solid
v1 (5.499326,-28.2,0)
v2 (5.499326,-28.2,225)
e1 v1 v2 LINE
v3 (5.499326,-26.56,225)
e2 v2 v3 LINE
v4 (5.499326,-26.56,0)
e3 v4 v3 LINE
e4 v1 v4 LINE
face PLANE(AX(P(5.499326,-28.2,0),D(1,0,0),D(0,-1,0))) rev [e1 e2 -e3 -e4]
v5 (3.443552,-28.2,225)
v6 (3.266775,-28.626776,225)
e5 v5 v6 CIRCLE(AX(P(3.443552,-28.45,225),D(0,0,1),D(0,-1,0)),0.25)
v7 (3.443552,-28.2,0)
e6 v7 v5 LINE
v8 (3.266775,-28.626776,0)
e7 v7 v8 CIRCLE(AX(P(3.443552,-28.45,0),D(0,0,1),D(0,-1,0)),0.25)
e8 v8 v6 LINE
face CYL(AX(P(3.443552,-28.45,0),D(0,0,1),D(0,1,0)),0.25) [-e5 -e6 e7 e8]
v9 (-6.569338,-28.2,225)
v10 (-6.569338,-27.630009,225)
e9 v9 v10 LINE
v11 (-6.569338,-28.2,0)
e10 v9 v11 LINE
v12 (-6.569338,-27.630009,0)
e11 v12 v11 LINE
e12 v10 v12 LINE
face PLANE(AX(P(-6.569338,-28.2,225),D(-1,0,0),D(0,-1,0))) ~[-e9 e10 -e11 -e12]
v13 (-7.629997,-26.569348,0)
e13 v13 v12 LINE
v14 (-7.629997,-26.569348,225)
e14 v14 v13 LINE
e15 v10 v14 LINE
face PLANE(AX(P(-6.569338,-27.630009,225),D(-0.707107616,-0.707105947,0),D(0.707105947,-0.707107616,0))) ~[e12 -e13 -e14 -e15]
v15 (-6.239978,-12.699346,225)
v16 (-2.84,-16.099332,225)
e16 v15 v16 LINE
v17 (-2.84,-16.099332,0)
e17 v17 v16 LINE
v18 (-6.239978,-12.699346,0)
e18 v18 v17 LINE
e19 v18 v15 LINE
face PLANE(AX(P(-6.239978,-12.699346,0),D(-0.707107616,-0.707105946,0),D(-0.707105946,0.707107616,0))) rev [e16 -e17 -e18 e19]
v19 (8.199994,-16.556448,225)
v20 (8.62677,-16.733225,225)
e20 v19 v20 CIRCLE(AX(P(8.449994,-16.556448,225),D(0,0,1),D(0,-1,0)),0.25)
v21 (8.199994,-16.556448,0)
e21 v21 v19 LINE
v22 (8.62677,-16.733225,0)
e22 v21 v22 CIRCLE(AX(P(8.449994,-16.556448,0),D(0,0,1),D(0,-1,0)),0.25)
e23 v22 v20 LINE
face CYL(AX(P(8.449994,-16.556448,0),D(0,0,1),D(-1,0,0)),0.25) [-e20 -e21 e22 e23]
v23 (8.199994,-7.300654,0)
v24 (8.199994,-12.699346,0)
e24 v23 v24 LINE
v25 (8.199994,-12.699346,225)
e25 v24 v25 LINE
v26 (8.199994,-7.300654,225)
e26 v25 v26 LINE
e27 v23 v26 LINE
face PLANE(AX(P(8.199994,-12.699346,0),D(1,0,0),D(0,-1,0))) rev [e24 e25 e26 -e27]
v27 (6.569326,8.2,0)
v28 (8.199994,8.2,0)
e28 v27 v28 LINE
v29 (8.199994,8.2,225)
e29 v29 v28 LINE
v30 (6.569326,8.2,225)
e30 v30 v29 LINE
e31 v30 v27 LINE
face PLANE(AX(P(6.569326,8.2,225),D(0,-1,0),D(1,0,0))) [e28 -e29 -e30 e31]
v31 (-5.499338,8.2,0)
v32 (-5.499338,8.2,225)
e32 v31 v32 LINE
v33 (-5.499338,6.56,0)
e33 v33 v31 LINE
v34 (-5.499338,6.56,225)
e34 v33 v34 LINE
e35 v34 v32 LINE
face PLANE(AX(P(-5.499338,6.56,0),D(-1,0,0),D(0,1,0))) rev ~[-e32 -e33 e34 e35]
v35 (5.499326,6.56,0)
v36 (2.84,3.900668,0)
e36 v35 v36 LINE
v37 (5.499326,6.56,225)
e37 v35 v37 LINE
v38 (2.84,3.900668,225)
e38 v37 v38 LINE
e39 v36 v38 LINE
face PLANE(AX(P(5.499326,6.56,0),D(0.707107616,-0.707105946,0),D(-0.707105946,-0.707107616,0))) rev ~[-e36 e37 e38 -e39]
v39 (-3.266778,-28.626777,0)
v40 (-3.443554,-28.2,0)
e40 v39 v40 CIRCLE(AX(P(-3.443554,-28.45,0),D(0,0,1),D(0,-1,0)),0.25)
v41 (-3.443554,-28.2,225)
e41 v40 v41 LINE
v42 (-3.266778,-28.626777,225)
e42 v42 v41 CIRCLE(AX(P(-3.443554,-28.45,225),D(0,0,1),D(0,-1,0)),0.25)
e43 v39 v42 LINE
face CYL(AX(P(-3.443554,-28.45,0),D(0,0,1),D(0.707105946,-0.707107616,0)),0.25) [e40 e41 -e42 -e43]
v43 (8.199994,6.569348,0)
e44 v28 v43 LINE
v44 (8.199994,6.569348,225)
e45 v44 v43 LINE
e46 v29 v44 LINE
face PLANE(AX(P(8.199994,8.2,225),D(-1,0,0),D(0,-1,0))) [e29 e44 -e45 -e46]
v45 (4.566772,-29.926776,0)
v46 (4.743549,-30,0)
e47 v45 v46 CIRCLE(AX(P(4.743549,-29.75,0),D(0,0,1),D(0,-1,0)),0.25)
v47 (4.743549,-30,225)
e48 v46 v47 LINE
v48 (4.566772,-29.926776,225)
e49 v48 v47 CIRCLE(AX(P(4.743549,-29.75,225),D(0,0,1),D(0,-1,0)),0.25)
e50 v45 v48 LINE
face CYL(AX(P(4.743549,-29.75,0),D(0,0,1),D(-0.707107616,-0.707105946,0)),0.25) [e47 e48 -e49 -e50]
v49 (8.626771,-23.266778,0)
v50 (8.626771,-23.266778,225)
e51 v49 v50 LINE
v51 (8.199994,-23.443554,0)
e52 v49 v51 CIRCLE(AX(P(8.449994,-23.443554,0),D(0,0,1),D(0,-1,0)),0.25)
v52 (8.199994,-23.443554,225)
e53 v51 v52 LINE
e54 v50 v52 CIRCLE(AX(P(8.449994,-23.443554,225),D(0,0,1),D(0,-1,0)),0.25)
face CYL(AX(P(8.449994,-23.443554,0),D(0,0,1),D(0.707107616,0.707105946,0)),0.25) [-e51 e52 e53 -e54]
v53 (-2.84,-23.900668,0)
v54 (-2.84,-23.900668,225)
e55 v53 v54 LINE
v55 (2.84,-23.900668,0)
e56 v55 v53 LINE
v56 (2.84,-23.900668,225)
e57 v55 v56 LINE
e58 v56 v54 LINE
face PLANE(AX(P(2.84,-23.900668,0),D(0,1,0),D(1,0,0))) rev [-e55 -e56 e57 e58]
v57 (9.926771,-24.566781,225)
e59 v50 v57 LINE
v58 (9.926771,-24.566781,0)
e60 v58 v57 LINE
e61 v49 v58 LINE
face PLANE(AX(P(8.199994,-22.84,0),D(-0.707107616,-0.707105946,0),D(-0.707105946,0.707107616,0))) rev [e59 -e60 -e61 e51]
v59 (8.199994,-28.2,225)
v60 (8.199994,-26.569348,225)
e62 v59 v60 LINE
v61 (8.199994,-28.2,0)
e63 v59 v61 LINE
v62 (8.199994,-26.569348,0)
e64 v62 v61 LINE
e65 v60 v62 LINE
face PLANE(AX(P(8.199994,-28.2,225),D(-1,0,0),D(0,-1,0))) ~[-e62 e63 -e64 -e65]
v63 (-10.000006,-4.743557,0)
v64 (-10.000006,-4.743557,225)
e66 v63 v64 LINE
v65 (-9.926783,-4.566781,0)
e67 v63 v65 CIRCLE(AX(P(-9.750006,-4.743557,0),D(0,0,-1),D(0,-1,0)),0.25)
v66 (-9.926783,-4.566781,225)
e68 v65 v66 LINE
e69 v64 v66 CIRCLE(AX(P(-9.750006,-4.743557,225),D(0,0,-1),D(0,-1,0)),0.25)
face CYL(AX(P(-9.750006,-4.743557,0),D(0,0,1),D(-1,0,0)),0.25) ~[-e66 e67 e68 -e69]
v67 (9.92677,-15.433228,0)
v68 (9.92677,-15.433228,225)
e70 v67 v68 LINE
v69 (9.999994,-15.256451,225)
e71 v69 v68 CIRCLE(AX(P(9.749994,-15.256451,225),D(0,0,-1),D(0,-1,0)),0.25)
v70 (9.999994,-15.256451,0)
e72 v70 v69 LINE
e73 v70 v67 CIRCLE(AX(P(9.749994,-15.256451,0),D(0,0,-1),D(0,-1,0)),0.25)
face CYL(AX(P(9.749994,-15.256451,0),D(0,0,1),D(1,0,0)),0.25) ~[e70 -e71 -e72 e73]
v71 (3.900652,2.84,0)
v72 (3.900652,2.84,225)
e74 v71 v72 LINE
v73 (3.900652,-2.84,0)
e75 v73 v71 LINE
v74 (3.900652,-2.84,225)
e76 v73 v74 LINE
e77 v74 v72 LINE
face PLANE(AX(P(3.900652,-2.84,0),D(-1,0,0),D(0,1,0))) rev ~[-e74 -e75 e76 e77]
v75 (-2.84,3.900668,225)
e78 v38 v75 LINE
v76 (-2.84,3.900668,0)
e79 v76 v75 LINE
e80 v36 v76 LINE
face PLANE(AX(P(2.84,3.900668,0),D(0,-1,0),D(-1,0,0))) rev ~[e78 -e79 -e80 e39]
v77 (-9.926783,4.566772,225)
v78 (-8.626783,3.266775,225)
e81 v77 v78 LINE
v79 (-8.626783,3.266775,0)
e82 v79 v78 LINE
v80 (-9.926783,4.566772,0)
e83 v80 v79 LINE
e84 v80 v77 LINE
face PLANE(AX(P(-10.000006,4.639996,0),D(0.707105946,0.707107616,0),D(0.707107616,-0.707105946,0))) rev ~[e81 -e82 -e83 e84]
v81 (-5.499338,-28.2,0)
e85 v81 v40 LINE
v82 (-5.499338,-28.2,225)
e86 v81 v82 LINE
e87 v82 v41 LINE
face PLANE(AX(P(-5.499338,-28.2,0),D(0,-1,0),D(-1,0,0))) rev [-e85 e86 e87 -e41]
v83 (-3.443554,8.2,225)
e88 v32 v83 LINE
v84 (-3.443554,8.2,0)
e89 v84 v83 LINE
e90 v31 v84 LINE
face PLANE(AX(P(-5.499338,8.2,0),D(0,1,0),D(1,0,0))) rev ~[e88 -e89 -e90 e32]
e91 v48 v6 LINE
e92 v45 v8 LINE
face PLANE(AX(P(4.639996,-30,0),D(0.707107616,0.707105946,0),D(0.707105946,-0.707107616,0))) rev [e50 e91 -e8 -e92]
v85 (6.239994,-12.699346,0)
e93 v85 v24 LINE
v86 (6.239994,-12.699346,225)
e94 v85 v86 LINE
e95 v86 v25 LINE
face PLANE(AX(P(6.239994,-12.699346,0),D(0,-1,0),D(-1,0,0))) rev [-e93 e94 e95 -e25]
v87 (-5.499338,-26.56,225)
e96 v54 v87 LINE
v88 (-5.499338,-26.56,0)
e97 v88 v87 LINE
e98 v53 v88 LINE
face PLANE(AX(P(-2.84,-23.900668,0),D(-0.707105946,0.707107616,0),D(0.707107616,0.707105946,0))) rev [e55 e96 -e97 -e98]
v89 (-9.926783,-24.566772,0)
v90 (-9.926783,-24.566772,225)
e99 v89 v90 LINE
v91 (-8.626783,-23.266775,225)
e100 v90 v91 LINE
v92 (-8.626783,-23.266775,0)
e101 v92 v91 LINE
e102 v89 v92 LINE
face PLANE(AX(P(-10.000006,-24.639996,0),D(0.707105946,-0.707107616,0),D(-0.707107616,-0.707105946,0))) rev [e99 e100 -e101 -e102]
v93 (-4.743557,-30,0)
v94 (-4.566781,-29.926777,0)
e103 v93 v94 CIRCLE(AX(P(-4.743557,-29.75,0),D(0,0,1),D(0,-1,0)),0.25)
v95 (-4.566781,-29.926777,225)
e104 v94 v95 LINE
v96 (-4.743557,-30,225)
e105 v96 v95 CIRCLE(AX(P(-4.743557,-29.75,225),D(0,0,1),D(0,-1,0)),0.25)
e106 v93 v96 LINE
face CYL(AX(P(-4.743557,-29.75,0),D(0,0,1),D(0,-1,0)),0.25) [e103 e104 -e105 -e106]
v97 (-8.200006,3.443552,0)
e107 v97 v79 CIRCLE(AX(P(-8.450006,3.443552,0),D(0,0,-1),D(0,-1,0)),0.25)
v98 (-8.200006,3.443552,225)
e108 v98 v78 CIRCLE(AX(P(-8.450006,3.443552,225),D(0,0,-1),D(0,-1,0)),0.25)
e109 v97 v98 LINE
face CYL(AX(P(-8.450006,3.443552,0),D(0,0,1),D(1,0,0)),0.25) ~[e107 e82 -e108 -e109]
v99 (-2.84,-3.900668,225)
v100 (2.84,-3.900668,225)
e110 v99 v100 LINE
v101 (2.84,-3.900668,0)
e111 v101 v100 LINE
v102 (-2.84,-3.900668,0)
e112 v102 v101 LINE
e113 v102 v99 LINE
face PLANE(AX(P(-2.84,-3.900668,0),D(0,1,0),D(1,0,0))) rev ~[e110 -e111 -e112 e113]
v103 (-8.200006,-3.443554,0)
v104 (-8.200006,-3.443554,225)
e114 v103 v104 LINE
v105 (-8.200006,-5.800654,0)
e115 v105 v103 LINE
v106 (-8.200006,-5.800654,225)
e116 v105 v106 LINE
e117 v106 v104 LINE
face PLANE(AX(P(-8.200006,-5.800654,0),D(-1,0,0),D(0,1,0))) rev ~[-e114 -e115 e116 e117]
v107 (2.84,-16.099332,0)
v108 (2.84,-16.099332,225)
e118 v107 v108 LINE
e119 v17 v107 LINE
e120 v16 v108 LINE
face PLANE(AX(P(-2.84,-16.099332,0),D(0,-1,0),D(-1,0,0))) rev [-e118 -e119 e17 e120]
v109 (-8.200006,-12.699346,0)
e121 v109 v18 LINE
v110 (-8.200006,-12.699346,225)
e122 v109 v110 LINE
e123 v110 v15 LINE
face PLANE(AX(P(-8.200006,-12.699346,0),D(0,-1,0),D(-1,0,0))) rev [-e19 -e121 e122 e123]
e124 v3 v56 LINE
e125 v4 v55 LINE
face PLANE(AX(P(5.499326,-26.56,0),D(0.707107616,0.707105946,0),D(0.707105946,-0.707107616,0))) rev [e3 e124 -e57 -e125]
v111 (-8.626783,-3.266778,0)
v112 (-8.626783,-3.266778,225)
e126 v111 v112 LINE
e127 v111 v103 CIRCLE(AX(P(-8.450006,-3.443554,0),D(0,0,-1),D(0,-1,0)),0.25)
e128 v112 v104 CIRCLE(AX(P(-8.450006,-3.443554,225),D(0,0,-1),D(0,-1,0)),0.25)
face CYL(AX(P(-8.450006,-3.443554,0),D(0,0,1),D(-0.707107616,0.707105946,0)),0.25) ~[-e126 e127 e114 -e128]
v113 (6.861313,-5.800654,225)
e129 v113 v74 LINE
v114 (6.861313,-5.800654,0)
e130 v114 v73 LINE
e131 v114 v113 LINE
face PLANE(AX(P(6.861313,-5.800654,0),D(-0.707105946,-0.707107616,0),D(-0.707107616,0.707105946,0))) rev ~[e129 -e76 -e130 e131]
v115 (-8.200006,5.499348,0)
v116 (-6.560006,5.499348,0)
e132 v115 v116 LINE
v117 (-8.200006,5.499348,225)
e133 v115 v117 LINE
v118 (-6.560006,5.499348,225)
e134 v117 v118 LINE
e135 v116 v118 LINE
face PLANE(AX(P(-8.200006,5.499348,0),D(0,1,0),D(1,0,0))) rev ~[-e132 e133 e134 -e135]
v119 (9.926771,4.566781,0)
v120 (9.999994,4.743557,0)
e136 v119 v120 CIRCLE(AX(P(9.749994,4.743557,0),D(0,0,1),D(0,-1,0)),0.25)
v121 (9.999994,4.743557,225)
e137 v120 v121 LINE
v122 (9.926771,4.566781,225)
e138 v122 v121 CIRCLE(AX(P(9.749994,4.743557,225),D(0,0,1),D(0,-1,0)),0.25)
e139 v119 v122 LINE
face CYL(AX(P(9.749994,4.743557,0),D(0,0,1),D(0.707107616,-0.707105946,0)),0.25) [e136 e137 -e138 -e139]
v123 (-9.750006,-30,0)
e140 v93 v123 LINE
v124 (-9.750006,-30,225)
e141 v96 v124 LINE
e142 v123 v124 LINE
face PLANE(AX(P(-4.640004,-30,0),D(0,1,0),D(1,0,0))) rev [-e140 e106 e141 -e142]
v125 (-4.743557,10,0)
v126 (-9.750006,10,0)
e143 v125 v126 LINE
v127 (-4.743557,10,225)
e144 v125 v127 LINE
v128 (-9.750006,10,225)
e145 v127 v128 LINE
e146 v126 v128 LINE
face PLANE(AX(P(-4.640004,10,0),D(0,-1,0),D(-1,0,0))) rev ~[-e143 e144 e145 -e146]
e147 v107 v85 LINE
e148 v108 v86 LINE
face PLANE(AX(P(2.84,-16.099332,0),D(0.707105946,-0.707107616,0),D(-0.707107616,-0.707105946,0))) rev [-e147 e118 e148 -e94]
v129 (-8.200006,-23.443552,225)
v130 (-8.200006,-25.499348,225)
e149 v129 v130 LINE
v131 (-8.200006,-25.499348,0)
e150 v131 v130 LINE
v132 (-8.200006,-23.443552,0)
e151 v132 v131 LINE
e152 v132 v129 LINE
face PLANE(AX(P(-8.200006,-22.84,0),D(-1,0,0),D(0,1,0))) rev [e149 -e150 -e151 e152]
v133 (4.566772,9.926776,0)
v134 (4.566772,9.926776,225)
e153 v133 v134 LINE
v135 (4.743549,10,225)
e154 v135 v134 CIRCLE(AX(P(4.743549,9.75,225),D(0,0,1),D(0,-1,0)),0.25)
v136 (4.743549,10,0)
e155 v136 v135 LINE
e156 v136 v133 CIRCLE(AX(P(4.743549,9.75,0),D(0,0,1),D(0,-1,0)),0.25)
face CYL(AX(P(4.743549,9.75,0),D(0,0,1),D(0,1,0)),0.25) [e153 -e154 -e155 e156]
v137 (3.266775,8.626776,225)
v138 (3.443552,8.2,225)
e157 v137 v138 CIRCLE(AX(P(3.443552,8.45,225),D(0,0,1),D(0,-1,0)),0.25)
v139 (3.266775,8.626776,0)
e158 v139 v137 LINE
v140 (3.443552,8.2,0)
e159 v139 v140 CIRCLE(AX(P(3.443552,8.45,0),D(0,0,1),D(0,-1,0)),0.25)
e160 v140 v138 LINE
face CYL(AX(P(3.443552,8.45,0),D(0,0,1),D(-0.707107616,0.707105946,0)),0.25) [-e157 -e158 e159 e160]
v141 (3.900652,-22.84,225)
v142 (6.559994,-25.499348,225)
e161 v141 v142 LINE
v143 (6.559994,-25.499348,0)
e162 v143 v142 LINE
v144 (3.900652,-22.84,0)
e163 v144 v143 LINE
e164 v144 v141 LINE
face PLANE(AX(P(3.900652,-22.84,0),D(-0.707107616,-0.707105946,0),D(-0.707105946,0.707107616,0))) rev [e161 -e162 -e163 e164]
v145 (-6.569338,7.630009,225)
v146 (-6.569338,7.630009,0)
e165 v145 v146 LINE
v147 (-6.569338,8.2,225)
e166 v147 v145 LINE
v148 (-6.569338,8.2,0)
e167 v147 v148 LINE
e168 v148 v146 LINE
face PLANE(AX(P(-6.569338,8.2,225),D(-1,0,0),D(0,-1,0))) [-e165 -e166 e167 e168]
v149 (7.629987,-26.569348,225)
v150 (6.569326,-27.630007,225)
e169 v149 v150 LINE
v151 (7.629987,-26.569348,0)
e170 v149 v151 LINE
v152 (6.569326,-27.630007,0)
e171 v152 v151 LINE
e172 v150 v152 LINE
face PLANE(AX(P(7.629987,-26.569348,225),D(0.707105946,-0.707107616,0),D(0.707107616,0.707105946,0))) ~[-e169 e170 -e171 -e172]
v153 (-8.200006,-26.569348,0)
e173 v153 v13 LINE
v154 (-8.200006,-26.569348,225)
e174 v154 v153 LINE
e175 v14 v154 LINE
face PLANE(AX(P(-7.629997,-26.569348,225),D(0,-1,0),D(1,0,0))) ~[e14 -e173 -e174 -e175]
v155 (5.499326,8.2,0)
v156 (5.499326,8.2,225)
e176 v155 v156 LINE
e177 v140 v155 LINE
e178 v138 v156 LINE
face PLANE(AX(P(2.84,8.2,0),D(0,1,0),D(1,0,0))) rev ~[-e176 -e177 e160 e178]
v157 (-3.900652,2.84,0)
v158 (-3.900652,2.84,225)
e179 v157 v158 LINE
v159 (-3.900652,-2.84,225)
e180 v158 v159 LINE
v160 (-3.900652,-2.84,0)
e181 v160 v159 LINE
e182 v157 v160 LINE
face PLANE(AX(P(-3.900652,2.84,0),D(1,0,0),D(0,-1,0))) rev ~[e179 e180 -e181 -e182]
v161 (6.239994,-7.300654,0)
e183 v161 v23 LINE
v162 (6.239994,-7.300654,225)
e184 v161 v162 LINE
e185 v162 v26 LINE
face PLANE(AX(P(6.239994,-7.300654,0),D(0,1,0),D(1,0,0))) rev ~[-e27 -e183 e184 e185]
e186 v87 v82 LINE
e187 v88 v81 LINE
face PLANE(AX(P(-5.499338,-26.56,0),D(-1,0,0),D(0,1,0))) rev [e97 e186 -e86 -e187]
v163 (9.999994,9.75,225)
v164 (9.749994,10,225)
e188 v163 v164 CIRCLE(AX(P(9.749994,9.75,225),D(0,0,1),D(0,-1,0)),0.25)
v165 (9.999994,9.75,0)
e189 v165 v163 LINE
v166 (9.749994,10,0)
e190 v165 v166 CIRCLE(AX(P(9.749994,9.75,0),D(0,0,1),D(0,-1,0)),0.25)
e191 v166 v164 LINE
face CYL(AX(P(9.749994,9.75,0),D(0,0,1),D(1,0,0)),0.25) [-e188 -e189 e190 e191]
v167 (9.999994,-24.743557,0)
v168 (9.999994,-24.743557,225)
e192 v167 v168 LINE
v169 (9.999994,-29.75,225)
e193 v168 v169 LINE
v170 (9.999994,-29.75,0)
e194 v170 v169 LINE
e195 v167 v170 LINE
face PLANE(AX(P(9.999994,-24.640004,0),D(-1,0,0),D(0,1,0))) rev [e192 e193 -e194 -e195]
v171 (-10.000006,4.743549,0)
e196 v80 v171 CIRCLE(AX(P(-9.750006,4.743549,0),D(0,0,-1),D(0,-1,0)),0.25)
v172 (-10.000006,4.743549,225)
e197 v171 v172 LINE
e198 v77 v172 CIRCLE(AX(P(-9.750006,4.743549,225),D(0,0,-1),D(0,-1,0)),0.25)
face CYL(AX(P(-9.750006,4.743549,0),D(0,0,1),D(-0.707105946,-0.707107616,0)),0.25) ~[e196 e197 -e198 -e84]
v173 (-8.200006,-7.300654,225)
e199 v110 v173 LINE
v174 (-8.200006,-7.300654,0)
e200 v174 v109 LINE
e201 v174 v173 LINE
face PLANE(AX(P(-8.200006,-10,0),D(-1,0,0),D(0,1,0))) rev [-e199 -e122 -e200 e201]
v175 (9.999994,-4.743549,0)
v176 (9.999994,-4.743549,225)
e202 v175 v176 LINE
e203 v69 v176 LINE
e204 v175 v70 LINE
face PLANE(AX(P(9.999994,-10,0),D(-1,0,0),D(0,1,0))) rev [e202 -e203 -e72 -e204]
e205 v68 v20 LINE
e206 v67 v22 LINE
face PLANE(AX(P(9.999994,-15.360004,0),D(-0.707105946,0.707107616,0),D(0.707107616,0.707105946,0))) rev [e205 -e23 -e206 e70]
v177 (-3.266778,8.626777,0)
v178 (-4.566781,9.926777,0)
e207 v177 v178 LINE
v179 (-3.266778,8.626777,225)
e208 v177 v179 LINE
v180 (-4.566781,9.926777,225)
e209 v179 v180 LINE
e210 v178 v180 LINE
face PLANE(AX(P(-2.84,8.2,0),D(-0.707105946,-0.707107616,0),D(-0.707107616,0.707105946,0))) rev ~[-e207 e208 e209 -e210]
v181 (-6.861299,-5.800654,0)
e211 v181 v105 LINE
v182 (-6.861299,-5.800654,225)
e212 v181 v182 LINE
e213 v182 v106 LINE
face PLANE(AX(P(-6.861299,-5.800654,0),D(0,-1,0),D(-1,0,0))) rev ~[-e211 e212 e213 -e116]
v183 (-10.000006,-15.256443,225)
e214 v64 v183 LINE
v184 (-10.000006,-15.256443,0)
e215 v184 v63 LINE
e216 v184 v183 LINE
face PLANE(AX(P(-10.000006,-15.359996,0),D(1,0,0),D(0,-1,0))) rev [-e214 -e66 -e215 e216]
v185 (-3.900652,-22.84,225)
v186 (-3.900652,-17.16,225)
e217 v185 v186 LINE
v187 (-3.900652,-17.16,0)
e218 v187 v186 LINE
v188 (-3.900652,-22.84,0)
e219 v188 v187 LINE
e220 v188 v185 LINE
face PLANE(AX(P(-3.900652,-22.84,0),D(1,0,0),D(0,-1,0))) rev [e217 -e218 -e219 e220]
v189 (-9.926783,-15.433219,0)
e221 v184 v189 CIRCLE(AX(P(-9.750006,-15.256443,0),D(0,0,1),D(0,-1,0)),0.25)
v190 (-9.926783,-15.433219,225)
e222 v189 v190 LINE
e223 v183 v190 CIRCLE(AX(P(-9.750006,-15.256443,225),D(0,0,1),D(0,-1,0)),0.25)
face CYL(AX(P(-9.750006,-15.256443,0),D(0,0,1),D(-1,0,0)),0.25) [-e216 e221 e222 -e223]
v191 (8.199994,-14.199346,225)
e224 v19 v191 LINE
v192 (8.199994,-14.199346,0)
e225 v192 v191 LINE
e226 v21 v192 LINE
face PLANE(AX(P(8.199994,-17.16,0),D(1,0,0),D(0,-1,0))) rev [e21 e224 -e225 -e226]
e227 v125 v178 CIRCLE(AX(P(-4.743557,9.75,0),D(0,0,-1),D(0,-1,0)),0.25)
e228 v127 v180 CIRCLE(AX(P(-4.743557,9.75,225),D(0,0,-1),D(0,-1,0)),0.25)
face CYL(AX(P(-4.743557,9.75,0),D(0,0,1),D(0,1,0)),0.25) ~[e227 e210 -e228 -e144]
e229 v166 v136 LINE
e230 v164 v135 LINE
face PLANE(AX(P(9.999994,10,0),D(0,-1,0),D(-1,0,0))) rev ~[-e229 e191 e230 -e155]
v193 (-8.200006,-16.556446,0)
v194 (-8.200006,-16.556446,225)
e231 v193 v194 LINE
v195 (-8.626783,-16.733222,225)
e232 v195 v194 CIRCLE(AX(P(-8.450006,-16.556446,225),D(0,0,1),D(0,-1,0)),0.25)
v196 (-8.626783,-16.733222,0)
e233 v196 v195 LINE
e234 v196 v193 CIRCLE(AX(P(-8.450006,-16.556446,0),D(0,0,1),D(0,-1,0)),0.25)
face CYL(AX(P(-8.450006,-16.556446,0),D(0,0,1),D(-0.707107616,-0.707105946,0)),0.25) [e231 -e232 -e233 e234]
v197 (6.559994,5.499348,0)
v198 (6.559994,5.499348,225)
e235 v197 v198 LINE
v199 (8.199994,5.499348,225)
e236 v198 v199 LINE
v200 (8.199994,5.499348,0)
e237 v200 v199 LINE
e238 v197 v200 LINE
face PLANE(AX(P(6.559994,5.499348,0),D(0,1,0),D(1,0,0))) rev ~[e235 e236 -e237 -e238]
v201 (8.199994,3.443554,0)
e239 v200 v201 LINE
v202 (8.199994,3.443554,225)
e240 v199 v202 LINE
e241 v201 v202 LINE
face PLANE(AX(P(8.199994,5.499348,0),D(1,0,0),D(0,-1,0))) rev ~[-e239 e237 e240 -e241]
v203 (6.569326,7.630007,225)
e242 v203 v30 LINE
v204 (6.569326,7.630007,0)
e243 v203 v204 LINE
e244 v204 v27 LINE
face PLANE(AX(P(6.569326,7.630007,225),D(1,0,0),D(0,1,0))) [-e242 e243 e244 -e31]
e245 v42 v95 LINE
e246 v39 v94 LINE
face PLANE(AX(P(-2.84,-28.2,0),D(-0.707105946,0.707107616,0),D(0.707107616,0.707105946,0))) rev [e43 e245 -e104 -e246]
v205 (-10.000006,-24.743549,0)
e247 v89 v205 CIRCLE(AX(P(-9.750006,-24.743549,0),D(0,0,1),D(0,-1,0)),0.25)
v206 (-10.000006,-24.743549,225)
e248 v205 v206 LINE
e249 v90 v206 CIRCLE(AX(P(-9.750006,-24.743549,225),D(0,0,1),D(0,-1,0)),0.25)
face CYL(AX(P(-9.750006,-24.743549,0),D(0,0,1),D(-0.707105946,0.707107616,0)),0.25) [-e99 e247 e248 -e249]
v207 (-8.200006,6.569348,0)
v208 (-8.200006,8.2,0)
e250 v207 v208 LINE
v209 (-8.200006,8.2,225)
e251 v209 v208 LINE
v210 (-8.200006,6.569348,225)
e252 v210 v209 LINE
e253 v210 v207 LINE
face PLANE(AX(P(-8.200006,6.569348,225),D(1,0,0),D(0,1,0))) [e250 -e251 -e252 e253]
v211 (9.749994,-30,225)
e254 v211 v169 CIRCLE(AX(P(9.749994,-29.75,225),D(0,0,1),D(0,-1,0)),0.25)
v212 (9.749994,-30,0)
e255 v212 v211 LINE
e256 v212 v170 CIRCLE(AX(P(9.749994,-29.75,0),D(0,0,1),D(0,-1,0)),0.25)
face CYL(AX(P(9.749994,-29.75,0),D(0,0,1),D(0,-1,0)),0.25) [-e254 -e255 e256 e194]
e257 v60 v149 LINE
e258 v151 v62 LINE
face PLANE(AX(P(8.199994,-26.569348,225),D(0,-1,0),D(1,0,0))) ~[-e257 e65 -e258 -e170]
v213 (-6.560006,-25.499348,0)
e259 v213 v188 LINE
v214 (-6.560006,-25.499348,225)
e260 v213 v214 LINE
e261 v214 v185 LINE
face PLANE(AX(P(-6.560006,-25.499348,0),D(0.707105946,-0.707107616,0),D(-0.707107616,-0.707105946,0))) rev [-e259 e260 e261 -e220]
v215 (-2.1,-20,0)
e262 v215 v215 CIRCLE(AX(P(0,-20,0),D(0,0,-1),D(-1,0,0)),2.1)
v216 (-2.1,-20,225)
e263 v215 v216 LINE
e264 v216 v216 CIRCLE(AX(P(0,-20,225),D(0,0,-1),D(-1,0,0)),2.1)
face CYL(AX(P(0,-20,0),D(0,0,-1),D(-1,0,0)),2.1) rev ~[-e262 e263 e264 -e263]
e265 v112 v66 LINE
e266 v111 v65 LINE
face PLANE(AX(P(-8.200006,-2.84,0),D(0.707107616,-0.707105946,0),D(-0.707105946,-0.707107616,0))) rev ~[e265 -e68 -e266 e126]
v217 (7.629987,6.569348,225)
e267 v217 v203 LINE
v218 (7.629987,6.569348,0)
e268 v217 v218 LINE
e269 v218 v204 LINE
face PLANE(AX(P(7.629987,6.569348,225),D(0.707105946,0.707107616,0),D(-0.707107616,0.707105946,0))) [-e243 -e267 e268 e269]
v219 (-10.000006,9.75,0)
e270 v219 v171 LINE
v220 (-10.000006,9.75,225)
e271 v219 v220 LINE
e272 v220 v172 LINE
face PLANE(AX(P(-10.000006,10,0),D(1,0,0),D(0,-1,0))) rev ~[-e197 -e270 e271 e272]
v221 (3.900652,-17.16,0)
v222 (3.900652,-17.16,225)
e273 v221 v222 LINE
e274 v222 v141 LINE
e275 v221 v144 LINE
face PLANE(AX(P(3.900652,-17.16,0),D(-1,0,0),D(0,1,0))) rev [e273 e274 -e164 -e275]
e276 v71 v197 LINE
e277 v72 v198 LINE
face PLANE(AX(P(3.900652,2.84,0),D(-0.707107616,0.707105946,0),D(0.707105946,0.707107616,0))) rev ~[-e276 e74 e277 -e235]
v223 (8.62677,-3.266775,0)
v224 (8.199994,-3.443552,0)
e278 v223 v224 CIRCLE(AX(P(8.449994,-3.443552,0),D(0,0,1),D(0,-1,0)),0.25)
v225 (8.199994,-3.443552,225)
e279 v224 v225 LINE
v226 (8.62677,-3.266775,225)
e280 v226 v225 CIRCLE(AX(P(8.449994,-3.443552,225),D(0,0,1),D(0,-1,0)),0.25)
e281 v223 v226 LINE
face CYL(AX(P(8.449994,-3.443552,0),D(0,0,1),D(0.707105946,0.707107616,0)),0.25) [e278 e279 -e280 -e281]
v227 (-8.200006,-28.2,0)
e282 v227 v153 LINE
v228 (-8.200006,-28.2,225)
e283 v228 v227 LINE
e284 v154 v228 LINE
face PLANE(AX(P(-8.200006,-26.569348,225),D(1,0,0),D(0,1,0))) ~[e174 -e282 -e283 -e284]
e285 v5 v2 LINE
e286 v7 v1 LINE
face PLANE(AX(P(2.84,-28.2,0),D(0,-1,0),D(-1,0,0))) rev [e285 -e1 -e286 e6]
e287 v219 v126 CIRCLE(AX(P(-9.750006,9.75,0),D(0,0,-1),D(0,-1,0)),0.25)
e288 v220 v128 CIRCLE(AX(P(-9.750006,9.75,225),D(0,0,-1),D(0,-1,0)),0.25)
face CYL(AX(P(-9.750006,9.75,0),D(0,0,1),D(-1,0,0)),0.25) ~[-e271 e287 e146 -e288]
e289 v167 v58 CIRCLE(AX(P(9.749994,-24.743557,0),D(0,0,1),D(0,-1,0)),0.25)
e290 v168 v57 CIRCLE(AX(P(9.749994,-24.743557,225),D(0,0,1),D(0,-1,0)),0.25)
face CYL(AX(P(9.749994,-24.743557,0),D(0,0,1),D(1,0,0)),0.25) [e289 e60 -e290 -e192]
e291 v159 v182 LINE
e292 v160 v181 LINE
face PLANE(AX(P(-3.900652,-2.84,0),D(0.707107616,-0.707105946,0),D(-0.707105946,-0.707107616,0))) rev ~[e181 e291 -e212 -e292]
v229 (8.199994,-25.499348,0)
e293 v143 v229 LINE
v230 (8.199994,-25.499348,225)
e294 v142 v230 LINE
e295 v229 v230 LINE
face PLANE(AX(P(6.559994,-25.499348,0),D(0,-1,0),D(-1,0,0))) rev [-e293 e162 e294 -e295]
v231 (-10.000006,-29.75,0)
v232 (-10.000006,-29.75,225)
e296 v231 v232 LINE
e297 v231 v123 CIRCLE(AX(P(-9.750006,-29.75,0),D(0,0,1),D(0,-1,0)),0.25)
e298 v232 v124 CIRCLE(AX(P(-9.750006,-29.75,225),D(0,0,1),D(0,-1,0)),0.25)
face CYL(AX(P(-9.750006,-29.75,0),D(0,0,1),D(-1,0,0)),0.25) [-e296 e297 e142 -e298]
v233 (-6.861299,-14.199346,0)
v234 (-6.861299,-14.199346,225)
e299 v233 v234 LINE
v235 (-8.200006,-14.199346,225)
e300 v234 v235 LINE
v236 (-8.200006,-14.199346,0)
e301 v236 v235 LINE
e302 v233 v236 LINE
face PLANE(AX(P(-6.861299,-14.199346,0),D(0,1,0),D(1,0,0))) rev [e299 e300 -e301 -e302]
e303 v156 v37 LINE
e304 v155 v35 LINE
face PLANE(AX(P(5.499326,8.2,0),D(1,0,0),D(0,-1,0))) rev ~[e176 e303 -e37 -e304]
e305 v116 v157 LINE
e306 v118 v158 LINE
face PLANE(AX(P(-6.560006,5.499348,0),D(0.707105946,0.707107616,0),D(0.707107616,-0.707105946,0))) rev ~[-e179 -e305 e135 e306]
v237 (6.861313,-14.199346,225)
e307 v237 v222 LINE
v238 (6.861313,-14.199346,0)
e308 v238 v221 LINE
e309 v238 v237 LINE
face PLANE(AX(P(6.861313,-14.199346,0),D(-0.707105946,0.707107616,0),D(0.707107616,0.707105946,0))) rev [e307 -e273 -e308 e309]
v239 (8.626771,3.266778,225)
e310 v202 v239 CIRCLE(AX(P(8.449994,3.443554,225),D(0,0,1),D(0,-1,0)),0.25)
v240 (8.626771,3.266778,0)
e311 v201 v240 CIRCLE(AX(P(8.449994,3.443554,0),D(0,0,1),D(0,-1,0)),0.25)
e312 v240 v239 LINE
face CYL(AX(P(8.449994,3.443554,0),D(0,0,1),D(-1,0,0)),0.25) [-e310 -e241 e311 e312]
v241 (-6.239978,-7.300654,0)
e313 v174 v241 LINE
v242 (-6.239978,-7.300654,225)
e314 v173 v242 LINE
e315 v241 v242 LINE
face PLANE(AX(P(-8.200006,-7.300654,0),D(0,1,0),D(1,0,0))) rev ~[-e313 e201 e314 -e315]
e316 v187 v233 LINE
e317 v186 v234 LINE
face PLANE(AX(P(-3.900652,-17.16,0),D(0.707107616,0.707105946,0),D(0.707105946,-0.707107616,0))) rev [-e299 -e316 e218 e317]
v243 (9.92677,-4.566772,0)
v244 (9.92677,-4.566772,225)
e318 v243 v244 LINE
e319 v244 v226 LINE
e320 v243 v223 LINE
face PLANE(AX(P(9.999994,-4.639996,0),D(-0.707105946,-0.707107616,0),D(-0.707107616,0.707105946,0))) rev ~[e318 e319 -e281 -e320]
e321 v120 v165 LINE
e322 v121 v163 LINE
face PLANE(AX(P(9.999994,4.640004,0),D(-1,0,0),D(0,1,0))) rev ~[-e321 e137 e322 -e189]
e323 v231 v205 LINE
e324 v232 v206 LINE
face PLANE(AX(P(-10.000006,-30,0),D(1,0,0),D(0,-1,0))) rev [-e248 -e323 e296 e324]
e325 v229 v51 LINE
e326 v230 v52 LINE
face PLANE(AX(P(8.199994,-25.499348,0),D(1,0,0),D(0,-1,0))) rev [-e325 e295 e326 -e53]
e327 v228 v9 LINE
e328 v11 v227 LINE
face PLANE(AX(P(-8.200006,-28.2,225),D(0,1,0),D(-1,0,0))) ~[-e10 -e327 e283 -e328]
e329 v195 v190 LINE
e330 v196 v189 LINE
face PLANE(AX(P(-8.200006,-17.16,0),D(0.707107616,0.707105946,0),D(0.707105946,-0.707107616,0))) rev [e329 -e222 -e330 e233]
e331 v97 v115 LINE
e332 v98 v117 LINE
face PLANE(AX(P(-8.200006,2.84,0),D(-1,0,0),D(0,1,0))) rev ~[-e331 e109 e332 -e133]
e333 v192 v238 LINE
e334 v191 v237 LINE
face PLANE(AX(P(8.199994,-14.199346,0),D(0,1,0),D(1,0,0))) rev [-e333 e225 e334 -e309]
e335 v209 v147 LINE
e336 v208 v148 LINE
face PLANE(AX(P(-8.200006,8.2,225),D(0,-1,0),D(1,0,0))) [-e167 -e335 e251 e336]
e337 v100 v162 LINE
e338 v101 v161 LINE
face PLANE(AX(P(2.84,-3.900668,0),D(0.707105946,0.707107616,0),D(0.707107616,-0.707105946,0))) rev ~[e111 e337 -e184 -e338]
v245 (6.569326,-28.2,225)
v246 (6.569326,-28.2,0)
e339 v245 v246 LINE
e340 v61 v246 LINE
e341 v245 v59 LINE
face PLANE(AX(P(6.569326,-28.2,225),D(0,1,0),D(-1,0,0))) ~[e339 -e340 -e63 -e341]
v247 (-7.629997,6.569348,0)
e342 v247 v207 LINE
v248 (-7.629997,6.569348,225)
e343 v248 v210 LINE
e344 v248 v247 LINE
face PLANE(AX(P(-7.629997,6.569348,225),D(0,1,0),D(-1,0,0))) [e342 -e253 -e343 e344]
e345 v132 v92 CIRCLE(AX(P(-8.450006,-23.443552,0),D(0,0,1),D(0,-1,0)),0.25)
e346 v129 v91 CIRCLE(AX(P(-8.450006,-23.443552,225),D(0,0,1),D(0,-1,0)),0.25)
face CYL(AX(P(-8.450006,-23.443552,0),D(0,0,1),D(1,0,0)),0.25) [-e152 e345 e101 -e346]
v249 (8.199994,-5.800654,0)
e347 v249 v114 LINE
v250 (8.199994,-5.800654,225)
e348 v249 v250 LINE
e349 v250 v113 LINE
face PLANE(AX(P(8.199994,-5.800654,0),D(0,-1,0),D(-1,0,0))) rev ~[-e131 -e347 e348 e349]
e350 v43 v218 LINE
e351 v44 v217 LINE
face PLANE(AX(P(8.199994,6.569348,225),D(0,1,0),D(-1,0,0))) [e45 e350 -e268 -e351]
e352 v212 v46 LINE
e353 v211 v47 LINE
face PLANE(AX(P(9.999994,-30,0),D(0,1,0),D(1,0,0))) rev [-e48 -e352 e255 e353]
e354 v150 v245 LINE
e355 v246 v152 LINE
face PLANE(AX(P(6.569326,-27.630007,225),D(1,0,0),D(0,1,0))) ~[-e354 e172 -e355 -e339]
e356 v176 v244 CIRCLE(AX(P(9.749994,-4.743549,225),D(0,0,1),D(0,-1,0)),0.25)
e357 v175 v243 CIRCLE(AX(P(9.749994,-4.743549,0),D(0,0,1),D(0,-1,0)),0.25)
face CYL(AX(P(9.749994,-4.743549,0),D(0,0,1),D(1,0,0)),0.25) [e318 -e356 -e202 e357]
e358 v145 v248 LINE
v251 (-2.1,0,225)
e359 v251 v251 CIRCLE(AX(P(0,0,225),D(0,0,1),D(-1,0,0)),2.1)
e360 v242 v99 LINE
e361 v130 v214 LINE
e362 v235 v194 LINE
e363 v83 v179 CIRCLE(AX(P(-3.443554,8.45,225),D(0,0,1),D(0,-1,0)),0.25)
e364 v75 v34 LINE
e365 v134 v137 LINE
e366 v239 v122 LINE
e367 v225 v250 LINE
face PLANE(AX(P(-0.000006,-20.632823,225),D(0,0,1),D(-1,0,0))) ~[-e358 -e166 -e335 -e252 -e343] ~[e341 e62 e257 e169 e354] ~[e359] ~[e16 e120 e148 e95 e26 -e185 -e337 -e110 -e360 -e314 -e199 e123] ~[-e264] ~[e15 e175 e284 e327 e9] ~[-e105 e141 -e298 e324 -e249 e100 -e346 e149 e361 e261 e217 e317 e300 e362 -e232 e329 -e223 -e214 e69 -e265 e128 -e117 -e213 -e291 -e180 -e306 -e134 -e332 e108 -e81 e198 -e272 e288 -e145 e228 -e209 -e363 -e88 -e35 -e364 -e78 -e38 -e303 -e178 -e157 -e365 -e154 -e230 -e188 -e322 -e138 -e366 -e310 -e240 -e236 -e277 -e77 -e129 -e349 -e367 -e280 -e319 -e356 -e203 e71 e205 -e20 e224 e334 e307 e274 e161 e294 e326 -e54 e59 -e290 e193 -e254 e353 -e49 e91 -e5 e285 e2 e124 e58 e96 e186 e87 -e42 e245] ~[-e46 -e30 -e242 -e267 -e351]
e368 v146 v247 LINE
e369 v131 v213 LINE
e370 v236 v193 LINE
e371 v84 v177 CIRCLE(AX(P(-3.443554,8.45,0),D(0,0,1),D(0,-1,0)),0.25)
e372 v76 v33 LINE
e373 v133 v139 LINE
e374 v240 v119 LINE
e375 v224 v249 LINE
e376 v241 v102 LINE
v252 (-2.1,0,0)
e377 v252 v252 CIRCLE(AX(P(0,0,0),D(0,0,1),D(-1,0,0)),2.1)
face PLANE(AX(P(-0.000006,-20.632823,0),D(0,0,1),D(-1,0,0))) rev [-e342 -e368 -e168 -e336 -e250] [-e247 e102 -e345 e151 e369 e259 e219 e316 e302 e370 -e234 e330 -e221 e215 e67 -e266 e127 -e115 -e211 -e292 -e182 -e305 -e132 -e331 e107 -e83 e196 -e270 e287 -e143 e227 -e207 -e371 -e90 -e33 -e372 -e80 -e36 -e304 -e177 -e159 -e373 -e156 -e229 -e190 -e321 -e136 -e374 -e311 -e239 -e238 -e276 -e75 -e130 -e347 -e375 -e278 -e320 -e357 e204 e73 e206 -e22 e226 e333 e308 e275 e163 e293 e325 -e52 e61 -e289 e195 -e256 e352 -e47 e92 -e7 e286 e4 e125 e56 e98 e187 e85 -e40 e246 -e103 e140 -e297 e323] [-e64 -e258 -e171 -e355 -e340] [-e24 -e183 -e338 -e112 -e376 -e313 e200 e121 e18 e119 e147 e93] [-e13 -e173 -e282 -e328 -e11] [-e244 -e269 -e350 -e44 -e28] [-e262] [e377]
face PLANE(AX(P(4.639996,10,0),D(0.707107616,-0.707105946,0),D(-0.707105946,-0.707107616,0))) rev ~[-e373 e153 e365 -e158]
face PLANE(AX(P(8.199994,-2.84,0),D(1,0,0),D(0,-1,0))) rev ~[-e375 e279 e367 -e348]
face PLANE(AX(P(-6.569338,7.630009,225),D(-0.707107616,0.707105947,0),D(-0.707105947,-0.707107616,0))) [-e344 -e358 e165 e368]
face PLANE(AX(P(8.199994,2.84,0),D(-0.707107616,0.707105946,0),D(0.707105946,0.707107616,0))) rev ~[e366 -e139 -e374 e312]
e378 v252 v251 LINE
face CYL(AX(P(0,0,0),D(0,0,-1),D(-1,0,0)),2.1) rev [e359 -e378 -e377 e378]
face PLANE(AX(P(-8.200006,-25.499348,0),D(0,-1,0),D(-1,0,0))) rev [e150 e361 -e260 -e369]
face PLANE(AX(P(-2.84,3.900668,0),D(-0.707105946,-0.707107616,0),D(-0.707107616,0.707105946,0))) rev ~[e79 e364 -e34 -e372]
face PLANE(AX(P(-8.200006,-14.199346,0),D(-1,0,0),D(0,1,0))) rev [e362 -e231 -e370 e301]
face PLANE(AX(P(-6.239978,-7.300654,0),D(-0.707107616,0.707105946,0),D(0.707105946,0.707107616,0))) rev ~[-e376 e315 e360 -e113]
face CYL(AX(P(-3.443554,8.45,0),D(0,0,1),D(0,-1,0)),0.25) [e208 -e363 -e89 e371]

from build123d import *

# Parameters (mm, degrees)
SKETCH1_R            = 2.1
BOSS_EXTRUDE2_DEPTH  = 225
CUT_EXTRUDE1_DEPTH   = 226.44400663
FILLET1_R            = 0.25
FILLET1_OF_MIRROR1_R = 0.25


with BuildPart() as part:
    # Sketch1 → Boss-Extrude2 (new body)
    with BuildSketch(Plane.XY):
        Polygon((8.199993721, -10), (9.999993721, -10), (9.999993721, -4.63999575), (8.199993721, -2.84), (8.199993721, -5.800653822), (6.861313026, -5.800653822), (3.900652213, -2.84), (3.900652213, 2.84), (6.559993721, 5.499347787), (8.199993721, 5.499347787), (8.199993721, 2.84), (9.999993721, 4.64000425), (9.999993721, 10), (4.63999575, 10), (2.84, 8.2), (5.499325592, 8.2), (5.499325592, 6.56), (2.84, 3.900668129), (-2.84, 3.900668129), (-5.49933815, 6.56), (-5.49933815, 8.2), (-2.84, 8.2), (-4.64000425, 10), (-10.000006279, 10), (-10.000006279, 4.63999575), (-8.200006279, 2.84), (-8.200006279, 5.499347787), (-6.560006279, 5.499347787), (-3.900652213, 2.84), (-3.900652213, -2.84), (-6.861299044, -5.800653822), (-8.200006279, -5.800653822), (-8.200006279, -2.84), (-10.000006279, -4.64000425), (-10.000006279, -10), (-8.200006279, -10), (-8.200006279, -7.300653822), (-6.239977665, -7.300653822), (-2.84, -3.900668129), (2.84, -3.900668129), (6.239993721, -7.300653822), (8.199993721, -7.300653822), align=None)
        with Locations(Location((0, 0, 0), (0, 0, 180))):
            Circle(SKETCH1_R, mode=Mode.SUBTRACT)
    boss_extrude2 = extrude(amount=BOSS_EXTRUDE2_DEPTH)

    # Sketch2 → Cut-Extrude1 (cut, through all)
    with BuildSketch(Plane.XY.offset(225)):
        Polygon((-8.200006279, 6.569347787), (-8.200006279, 8.2), (-6.56933815, 8.2), (-6.56933815, 7.630009211), (-7.62999707, 6.569347787), align=None)
        Polygon((8.199993721, 8.2), (8.199993721, 6.569347787), (7.629987016, 6.569347787), (6.569325592, 7.630006706), (6.569325592, 8.2), align=None)
    cut_extrude1 = extrude(amount=-CUT_EXTRUDE1_DEPTH, mode=Mode.SUBTRACT)

    # Fillet1
    fillet1_edges = [part.edges().sort_by_distance(p)[0] for p in [
        (9.999993721, -4.63999575, 112.5),
        (-10.000006279, -4.64000425, 112.5),
        (-8.200006279, -2.84, 112.5),
        (-8.200006279, 2.84, 112.5),
        (-10.000006279, 4.63999575, 112.5),
        (-10.000006279, 10, 112.5),
        (-4.64000425, 10, 112.5),
        (-2.84, 8.2, 112.5),
        (2.84, 8.2, 112.5),
        (4.63999575, 10, 112.5),
        (9.999993721, 10, 112.5),
        (9.999993721, 4.64000425, 112.5),
        (8.199993721, 2.84, 112.5),
        (8.199993721, -2.84, 112.5),
    ]]
    fillet(fillet1_edges, radius=FILLET1_R)

    # Mirror1: Boss-Extrude2 across plane
    add(boss_extrude2.mirror(Plane(origin=(0, -10, 0), x_dir=(0, 0, 1), z_dir=(0, -1, 0))))

    # Fillet1 of Mirror1
    fillet1_of_mirror1_edges = [part.edges().sort_by_distance(p)[0] for p in [
        (9.999993721, -15.36000425, 112.5),
        (-10.000006279, -15.35999575, 112.5),
        (-8.200006279, -17.16, 112.5),
        (-8.200006279, -22.84, 112.5),
        (-10.000006279, -24.63999575, 112.5),
        (-10.000006279, -30, 112.5),
        (-4.64000425, -30, 112.5),
        (-2.84, -28.2, 112.5),
        (2.84, -28.2, 112.5),
        (4.63999575, -30, 112.5),
        (9.999993721, -30, 112.5),
        (9.999993721, -24.64000425, 112.5),
        (8.199993721, -22.84, 112.5),
        (8.199993721, -17.16, 112.5),
    ]]
    fillet(fillet1_of_mirror1_edges, radius=FILLET1_OF_MIRROR1_R)

    # Mirror2: Cut-Extrude1 across plane
    add(cut_extrude1.mirror(Plane(origin=(0, -10, 0), x_dir=(0, 0, 1), z_dir=(0, -1, 0))), mode=Mode.SUBTRACT)


solid = part.part
